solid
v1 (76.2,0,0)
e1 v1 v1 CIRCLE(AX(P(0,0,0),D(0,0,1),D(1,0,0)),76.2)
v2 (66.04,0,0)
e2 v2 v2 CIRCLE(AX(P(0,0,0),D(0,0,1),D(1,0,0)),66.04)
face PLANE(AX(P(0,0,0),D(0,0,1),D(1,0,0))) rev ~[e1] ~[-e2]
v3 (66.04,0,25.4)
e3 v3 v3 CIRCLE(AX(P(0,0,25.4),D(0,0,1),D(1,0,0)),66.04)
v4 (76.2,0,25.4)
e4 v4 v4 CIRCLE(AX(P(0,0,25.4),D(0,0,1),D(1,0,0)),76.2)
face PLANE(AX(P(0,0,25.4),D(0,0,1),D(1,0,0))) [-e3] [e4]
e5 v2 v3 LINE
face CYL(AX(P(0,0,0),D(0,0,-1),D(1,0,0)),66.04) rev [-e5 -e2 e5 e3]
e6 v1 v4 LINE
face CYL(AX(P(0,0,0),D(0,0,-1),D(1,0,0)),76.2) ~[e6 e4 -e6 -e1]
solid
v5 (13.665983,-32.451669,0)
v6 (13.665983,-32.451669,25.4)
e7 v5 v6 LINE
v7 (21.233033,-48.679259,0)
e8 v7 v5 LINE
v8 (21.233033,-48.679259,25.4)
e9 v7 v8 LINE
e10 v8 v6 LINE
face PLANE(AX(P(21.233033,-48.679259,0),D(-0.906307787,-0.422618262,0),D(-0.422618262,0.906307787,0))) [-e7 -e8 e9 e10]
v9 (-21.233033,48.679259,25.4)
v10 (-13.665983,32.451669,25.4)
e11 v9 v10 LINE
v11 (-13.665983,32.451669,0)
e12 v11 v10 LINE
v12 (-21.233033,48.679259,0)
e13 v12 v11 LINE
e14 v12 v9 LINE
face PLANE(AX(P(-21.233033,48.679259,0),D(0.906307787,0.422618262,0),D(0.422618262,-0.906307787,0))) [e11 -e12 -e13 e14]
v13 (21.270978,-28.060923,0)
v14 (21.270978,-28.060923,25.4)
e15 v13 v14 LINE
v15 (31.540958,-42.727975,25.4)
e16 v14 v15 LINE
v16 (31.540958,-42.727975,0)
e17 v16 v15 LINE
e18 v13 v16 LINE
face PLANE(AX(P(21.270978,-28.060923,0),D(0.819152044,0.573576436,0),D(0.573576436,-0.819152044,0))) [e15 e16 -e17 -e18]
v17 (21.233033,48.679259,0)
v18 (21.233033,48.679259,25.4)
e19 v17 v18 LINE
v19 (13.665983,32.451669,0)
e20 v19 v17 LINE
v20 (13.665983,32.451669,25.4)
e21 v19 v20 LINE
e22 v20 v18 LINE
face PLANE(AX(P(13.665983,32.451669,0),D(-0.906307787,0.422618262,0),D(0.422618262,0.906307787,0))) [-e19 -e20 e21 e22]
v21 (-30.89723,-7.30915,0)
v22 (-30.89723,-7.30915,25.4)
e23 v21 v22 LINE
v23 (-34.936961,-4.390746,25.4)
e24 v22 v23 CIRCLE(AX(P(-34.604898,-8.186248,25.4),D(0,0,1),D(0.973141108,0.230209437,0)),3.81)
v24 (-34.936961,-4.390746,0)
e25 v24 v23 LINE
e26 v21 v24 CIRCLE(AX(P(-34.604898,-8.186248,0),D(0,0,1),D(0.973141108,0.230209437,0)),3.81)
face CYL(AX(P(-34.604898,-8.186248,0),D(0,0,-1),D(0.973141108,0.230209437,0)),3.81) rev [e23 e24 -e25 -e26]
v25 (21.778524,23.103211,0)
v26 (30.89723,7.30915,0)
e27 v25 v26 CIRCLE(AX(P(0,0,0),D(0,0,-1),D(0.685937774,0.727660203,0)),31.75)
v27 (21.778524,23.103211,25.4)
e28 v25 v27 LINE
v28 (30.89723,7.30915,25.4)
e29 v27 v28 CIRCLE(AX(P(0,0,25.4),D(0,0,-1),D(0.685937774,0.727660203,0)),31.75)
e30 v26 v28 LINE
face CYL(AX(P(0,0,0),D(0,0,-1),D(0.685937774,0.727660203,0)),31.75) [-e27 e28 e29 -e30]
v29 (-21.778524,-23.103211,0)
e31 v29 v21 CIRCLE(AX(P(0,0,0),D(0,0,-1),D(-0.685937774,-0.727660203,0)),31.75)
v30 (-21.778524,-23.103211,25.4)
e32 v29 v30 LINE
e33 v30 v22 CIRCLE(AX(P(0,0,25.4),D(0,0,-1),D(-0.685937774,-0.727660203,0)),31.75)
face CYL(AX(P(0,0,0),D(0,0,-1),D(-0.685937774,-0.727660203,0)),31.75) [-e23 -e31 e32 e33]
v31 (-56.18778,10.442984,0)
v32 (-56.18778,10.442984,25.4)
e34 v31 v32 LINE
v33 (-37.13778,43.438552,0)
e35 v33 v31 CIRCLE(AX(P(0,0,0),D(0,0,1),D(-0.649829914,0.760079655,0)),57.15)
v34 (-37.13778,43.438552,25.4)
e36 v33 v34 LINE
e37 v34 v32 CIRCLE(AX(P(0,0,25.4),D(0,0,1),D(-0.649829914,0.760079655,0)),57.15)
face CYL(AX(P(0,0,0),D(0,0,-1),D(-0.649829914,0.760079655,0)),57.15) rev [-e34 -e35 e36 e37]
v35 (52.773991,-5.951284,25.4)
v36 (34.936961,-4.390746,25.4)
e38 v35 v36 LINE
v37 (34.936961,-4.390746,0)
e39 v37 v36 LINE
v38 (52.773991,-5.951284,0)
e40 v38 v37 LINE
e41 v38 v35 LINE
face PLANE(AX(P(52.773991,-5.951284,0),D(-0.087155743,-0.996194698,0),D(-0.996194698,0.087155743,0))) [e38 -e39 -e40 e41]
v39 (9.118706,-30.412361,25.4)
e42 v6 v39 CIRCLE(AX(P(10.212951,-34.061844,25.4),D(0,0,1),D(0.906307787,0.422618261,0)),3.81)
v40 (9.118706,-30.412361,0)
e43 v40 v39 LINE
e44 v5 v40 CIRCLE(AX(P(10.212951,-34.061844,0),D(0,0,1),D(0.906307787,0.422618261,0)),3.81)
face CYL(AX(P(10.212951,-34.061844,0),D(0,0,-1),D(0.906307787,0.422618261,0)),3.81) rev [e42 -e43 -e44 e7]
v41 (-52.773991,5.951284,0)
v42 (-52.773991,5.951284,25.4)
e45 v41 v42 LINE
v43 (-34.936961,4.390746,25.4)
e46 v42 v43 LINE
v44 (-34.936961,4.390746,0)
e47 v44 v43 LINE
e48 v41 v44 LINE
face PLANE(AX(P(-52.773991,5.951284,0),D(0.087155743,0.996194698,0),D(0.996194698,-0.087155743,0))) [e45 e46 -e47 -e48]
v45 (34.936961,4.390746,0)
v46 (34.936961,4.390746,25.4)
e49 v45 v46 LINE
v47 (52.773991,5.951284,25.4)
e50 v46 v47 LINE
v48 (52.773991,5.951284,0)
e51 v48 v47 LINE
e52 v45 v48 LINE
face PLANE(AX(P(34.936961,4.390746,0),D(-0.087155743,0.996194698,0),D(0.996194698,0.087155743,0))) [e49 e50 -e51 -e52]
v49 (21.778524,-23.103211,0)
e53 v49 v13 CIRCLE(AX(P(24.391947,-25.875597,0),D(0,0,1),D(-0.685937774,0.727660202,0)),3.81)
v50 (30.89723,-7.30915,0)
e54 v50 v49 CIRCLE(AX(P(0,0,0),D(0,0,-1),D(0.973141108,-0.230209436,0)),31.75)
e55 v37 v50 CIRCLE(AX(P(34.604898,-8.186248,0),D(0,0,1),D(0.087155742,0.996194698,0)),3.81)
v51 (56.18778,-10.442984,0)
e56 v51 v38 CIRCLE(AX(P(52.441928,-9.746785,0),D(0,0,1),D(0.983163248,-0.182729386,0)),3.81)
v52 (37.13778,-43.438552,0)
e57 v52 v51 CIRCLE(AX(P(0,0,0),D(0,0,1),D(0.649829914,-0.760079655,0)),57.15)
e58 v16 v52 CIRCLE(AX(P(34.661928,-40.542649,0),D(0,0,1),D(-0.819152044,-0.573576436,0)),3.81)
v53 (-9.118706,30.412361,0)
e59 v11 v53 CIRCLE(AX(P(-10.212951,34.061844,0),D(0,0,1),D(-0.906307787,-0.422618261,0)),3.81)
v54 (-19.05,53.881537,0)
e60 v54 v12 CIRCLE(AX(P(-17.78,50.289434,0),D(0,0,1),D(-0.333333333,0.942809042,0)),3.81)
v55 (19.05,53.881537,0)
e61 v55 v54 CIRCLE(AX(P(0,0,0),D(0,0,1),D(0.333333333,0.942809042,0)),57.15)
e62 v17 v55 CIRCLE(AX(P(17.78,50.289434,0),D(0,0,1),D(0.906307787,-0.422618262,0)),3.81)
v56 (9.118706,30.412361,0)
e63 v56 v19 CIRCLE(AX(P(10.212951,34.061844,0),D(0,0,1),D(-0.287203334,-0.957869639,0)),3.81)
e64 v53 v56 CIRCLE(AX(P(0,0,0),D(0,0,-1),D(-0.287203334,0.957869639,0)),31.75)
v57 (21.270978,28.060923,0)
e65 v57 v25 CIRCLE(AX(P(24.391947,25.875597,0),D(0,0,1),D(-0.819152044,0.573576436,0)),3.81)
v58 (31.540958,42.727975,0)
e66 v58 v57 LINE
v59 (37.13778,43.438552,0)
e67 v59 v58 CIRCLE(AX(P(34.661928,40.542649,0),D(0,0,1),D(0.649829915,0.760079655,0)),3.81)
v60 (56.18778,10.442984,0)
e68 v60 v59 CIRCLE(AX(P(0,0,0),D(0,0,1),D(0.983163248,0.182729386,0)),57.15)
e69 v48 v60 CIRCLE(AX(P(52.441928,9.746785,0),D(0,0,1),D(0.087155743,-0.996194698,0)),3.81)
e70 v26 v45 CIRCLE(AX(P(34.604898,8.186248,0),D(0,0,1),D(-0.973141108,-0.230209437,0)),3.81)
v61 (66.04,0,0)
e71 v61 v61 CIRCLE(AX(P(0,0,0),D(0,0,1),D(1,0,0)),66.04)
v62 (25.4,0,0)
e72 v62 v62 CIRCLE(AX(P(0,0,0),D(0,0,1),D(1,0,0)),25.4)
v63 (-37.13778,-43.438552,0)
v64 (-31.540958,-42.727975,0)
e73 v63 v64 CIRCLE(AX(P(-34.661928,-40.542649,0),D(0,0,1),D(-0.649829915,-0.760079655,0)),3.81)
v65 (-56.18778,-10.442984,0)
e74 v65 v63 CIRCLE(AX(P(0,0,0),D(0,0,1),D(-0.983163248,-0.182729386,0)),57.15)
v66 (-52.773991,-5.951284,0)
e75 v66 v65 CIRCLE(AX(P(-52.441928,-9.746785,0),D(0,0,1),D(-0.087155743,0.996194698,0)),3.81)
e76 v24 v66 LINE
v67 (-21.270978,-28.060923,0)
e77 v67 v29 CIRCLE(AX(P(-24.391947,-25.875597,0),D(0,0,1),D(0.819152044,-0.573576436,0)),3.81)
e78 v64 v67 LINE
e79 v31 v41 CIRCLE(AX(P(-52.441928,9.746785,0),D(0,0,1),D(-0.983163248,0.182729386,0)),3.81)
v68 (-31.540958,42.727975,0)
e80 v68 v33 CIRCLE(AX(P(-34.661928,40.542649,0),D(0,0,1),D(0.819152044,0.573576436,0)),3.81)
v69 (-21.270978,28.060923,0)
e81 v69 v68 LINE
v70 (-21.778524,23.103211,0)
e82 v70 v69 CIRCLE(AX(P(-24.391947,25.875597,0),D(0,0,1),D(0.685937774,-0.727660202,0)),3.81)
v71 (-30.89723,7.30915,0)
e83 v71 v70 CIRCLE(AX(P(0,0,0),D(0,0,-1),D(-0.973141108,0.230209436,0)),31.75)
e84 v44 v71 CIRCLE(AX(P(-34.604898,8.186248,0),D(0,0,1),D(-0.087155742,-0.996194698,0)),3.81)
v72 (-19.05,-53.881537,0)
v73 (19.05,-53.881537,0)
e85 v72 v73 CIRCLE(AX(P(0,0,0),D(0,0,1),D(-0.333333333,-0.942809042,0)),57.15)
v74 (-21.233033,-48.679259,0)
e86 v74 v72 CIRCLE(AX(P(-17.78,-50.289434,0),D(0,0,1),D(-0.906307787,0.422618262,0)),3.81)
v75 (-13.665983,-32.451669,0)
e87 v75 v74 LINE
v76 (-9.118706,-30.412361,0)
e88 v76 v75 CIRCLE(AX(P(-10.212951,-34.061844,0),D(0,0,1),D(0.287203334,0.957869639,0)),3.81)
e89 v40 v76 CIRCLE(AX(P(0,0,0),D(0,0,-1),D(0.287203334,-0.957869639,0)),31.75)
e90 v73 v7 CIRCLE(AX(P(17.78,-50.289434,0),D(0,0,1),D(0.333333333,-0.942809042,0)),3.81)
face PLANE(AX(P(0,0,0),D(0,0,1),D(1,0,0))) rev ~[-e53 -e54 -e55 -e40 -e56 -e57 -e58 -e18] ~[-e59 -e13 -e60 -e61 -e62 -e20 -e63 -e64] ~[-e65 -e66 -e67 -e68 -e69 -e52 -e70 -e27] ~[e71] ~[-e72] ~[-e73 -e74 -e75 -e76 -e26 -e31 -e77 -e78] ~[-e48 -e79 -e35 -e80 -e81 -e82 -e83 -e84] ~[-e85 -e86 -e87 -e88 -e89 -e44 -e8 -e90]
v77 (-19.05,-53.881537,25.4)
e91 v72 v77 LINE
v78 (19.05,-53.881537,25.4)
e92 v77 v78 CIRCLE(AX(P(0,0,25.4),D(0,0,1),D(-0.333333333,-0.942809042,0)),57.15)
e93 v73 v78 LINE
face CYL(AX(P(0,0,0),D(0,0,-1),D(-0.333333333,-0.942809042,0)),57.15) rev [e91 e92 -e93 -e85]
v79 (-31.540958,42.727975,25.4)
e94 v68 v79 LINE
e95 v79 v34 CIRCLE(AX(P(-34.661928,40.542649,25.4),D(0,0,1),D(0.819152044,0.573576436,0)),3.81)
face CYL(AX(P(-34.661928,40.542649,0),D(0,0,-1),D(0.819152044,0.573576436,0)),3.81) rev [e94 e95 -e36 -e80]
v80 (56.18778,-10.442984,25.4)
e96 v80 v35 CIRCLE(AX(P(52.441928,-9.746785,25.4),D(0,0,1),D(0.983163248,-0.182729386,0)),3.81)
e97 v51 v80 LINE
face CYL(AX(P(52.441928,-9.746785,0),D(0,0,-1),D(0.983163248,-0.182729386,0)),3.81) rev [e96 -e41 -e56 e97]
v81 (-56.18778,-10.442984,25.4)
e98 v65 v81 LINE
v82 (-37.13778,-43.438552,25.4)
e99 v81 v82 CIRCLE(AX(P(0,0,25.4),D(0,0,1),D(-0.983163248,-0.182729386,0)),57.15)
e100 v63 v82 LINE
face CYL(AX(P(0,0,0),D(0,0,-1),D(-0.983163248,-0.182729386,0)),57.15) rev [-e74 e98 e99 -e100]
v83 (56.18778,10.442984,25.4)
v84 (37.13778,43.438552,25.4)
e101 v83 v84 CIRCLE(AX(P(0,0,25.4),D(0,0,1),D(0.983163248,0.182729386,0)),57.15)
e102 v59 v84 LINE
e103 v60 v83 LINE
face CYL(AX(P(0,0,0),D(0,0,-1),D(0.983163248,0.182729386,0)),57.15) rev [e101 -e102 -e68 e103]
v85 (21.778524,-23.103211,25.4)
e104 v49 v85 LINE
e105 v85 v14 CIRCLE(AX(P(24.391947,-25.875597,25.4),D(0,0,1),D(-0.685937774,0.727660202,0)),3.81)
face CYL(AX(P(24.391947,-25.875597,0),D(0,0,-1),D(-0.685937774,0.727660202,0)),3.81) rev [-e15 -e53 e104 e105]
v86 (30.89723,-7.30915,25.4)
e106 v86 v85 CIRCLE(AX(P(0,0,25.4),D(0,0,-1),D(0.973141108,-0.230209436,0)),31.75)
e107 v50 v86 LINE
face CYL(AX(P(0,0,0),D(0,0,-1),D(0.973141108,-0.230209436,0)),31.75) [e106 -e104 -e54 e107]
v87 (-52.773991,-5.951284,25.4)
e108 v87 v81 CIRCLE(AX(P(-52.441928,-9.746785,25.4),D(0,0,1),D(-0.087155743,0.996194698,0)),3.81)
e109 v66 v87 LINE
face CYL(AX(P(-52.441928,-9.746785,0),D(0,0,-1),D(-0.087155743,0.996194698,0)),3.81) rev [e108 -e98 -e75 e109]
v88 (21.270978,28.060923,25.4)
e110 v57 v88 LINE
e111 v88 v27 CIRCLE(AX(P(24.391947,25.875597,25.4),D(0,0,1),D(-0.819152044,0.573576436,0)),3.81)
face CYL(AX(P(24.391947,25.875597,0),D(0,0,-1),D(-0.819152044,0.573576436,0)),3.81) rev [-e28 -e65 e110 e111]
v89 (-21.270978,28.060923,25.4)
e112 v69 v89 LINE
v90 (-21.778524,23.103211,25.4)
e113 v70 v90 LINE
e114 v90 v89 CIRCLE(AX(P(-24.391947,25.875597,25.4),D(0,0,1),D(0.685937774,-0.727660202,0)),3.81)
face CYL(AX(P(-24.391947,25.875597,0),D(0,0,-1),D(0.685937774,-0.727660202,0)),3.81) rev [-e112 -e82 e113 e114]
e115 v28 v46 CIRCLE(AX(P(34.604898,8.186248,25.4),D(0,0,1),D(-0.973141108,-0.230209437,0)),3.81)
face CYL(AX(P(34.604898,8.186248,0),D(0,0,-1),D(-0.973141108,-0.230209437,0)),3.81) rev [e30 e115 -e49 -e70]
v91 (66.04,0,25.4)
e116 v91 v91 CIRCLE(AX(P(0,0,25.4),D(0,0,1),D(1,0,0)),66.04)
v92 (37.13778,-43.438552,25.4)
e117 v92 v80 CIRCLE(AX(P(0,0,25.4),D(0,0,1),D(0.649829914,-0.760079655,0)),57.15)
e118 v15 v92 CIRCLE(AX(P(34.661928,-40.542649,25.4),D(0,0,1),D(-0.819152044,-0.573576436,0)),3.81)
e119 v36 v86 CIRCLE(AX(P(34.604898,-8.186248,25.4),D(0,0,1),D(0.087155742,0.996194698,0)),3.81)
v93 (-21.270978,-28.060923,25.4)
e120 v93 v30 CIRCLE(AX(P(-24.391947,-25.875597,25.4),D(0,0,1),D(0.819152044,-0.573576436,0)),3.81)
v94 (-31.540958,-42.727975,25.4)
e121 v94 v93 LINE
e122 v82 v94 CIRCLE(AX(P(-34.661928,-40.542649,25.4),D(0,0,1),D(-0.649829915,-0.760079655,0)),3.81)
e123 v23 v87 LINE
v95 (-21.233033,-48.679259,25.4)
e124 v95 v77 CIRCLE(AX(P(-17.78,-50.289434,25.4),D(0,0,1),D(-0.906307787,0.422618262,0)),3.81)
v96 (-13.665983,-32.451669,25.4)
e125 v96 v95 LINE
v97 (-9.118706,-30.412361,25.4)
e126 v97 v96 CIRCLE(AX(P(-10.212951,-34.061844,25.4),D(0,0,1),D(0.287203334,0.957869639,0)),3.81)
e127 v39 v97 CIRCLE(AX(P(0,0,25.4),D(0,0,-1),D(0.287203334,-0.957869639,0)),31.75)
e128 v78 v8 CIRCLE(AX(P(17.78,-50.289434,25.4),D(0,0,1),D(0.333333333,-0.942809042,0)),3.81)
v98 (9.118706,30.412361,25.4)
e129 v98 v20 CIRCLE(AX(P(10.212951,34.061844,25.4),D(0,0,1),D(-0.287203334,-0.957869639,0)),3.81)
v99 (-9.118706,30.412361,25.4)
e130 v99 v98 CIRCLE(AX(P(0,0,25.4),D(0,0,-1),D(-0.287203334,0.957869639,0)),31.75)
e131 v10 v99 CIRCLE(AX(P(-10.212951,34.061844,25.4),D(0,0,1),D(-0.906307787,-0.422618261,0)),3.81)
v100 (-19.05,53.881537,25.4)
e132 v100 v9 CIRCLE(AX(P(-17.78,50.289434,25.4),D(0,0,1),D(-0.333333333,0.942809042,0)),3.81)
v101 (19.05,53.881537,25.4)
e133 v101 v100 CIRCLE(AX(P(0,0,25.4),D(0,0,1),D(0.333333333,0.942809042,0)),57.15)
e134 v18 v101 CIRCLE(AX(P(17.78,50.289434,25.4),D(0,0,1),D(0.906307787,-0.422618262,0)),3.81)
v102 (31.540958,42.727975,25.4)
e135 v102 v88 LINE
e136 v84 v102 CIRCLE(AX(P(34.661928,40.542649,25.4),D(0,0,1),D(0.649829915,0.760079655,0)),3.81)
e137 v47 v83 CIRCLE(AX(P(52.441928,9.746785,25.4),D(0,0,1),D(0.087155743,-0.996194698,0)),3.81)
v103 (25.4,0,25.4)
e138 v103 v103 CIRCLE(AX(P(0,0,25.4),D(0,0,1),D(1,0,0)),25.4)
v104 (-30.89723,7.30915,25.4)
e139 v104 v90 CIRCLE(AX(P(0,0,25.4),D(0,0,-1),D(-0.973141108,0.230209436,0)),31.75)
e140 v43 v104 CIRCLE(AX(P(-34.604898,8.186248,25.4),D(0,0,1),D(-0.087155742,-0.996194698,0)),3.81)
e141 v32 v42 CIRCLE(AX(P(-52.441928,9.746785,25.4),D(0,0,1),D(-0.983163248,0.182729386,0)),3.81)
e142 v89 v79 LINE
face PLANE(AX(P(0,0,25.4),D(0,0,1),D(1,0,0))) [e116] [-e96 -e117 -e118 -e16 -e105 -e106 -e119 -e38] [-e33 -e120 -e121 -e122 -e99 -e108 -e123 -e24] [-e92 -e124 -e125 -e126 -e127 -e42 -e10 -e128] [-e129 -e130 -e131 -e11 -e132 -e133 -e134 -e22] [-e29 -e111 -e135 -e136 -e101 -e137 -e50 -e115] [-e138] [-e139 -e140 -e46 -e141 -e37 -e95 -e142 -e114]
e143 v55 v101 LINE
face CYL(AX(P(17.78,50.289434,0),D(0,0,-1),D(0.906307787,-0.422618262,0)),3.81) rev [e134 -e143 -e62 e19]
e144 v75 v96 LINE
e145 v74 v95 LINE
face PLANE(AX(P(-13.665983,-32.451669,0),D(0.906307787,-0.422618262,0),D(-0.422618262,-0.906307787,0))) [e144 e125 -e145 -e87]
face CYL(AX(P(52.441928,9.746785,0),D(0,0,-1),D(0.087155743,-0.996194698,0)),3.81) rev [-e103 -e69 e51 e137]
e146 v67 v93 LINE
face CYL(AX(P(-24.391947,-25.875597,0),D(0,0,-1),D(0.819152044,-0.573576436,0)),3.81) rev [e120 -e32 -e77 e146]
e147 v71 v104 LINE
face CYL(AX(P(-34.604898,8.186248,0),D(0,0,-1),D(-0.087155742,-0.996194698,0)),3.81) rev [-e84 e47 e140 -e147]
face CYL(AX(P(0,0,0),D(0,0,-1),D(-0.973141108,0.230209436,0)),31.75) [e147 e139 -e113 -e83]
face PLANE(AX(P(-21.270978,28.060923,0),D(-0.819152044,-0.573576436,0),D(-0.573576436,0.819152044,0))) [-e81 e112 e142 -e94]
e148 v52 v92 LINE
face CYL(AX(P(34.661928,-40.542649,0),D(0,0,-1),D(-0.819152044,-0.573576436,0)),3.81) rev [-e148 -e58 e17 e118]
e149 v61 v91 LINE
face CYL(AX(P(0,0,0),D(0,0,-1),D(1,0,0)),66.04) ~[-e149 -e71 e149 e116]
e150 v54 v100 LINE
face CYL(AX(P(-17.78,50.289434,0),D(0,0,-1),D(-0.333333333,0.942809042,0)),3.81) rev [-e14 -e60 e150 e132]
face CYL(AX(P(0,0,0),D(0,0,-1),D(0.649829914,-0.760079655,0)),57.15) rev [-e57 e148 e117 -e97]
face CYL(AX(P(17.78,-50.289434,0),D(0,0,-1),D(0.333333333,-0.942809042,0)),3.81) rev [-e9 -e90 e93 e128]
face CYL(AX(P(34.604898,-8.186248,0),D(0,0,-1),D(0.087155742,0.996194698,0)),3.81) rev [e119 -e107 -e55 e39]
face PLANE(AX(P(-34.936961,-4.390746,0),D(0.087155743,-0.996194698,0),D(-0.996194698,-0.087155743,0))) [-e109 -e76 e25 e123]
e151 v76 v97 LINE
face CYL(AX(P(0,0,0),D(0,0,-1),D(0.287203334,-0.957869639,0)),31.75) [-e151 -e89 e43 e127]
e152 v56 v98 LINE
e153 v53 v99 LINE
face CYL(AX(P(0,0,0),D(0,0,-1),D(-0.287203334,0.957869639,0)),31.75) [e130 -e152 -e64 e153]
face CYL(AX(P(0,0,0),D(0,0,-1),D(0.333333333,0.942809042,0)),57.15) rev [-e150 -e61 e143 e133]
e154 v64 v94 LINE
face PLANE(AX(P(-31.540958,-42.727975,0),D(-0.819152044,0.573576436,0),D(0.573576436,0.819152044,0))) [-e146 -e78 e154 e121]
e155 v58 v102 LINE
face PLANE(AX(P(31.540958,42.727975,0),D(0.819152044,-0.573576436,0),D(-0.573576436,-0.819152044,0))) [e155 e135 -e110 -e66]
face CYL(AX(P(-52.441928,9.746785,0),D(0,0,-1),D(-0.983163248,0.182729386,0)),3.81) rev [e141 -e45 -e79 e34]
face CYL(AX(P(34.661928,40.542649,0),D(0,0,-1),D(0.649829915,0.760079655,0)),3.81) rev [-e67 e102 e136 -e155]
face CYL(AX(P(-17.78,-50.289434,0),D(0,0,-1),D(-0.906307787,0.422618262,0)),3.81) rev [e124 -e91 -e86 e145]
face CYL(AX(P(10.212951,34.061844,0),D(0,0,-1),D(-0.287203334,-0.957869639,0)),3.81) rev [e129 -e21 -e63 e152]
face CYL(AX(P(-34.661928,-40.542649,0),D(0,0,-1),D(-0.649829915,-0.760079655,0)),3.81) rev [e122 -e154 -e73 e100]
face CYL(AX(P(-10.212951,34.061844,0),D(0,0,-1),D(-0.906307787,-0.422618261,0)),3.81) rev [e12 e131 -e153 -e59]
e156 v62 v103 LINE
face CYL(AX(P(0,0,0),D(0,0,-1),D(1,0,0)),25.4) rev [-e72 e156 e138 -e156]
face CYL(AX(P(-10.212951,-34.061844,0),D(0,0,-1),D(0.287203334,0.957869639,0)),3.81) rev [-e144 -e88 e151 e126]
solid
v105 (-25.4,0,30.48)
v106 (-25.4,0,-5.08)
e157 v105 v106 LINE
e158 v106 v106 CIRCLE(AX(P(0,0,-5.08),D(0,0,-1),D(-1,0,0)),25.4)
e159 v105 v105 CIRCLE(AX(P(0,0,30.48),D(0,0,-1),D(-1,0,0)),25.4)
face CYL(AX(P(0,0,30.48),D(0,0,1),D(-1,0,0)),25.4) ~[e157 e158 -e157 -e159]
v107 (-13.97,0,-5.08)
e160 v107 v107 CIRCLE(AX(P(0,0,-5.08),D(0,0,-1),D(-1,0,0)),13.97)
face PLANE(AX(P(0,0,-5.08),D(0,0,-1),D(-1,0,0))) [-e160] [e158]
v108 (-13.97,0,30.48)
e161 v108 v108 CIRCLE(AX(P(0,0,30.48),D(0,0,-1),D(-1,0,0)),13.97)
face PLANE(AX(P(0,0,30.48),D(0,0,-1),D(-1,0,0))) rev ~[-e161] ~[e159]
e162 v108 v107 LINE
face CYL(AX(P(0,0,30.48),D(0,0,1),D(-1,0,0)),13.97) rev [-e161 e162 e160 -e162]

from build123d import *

# Parameters (mm, degrees)
SKETCH1_R                = 76.2
SKETCH1_R_2              = 66.04
BOSS_EXTRUDE1_DEPTH      = 25.4
SKETCH2_R                = 66.04
SKETCH2_R_2              = 25.4
BOSS_EXTRUDE2_DEPTH      = 25.4
BOSS_EXTRUDE3_DEPTH      = 17.78
BOSS_EXTRUDE3_DEPTH_BACK = 17.78
SKETCH3_R                = 25.4
SKETCH3_R_2              = 13.97


with BuildPart() as part:
    # Sketch1 → Boss-Extrude1 (new body)
    with BuildSketch(Plane.XY):
        Circle(SKETCH1_R)
        Circle(SKETCH1_R_2, mode=Mode.SUBTRACT)
    extrude(amount=BOSS_EXTRUDE1_DEPTH)


with BuildPart() as body_2:
    # Sketch2 → Boss-Extrude2 (new body)
    with BuildSketch(Plane.XY):
        Circle(SKETCH2_R)
        Circle(SKETCH2_R_2, mode=Mode.SUBTRACT)
        with BuildLine():
            Line((13.665983216, 32.451668782), (21.233032669, 48.679258701))
            ThreePointArc((21.233032669, 48.679258701), (21.293215559, 51.763685423), (19.05, 53.881536726))
            ThreePointArc((19.05, 53.881536726), (0, 57.15), (-19.05, 53.881536726))
            ThreePointArc((-19.05, 53.881536726), (-21.293215559, 51.763685423), (-21.233032669, 48.679258701))
            Line((-21.233032669, 48.679258701), (-13.665983216, 32.451668782))
            ThreePointArc((-13.665983216, 32.451668782), (-11.772009299, 30.585433018), (-9.118705846, 30.412361035))
            ThreePointArc((-9.118705846, 30.412361035), (0, 31.75), (9.118705846, 30.412361035))
            ThreePointArc((9.118705846, 30.412361035), (11.772009299, 30.585433018), (13.665983216, 32.451668782))
        make_face(mode=Mode.SUBTRACT)
        with BuildLine():
            Line((34.936961168, 4.390745758), (52.773991007, 5.95128366))
            ThreePointArc((52.773991007, 5.95128366), (55.475274349, 7.44137711), (56.1877796, 10.442984421))
            ThreePointArc((56.1877796, 10.442984421), (49.493351826, 28.575), (37.1377796, 43.438552305))
            ThreePointArc((37.1377796, 43.438552305), (34.182058791, 44.322308314), (31.540958338, 42.727975041))
            Line((31.540958338, 42.727975041), (21.270977952, 28.060923023))
            ThreePointArc((21.270977952, 28.060923023), (20.60175733, 25.487575615), (21.778524322, 23.103211429))
            ThreePointArc((21.778524322, 23.103211429), (27.49630657, 15.875), (30.897230168, 7.309149605))
            ThreePointArc((30.897230168, 7.309149605), (32.373766629, 5.097857403), (34.936961168, 4.390745758))
        make_face(mode=Mode.SUBTRACT)
        with BuildLine():
            Line((21.270977952, -28.060923023), (31.540958338, -42.727975041))
            ThreePointArc((31.540958338, -42.727975041), (34.182058791, -44.322308314), (37.1377796, -43.438552305))
            ThreePointArc((37.1377796, -43.438552305), (49.493351826, -28.575), (56.1877796, -10.442984421))
            ThreePointArc((56.1877796, -10.442984421), (55.475274349, -7.44137711), (52.773991007, -5.95128366))
            Line((52.773991007, -5.95128366), (34.936961168, -4.390745758))
            ThreePointArc((34.936961168, -4.390745758), (32.373766629, -5.097857403), (30.897230168, -7.309149605))
            ThreePointArc((30.897230168, -7.309149605), (27.49630657, -15.875), (21.778524322, -23.103211429))
            ThreePointArc((21.778524322, -23.103211429), (20.60175733, -25.487575615), (21.270977952, -28.060923023))
        make_face(mode=Mode.SUBTRACT)
        with BuildLine():
            Line((-13.665983216, -32.451668782), (-21.233032669, -48.679258701))
            ThreePointArc((-21.233032669, -48.679258701), (-21.293215559, -51.763685423), (-19.05, -53.881536726))
            ThreePointArc((-19.05, -53.881536726), (0, -57.15), (19.05, -53.881536726))
            ThreePointArc((19.05, -53.881536726), (21.293215559, -51.763685423), (21.233032669, -48.679258701))
            Line((21.233032669, -48.679258701), (13.665983216, -32.451668782))
            ThreePointArc((13.665983216, -32.451668782), (11.772009299, -30.585433018), (9.118705846, -30.412361035))
            ThreePointArc((9.118705846, -30.412361035), (0, -31.75), (-9.118705846, -30.412361035))
            ThreePointArc((-9.118705846, -30.412361035), (-11.772009299, -30.585433018), (-13.665983216, -32.451668782))
        make_face(mode=Mode.SUBTRACT)
        with BuildLine():
            Line((-34.936961168, -4.390745758), (-52.773991007, -5.95128366))
            ThreePointArc((-52.773991007, -5.95128366), (-55.475274349, -7.44137711), (-56.1877796, -10.442984421))
            ThreePointArc((-56.1877796, -10.442984421), (-49.493351826, -28.575), (-37.1377796, -43.438552305))
            ThreePointArc((-37.1377796, -43.438552305), (-34.182058791, -44.322308314), (-31.540958338, -42.727975041))
            Line((-31.540958338, -42.727975041), (-21.270977952, -28.060923023))
            ThreePointArc((-21.270977952, -28.060923023), (-20.60175733, -25.487575615), (-21.778524322, -23.103211429))
            ThreePointArc((-21.778524322, -23.103211429), (-27.49630657, -15.875), (-30.897230168, -7.309149605))
            ThreePointArc((-30.897230168, -7.309149605), (-32.373766629, -5.097857403), (-34.936961168, -4.390745758))
        make_face(mode=Mode.SUBTRACT)
        with BuildLine():
            Line((-21.270977952, 28.060923023), (-31.540958338, 42.727975041))
            ThreePointArc((-31.540958338, 42.727975041), (-34.182058791, 44.322308314), (-37.1377796, 43.438552305))
            ThreePointArc((-37.1377796, 43.438552305), (-49.493351826, 28.575), (-56.1877796, 10.442984421))
            ThreePointArc((-56.1877796, 10.442984421), (-55.475274349, 7.44137711), (-52.773991007, 5.95128366))
            Line((-52.773991007, 5.95128366), (-34.936961168, 4.390745758))
            ThreePointArc((-34.936961168, 4.390745758), (-32.373766629, 5.097857403), (-30.897230168, 7.309149605))
            ThreePointArc((-30.897230168, 7.309149605), (-27.49630657, 15.875), (-21.778524322, 23.103211429))
            ThreePointArc((-21.778524322, 23.103211429), (-20.60175733, 25.487575615), (-21.270977952, 28.060923023))
        make_face(mode=Mode.SUBTRACT)
    extrude(amount=BOSS_EXTRUDE2_DEPTH)


with BuildPart() as body_3:
    # Sketch3 → Boss-Extrude3 (new, two sides: drawn at the far end of the back side and taken through both)
    with BuildSketch(Plane(origin=(0, 0, 12.7), x_dir=(-1, 0, 0), z_dir=(0, 0, -1)).offset(-BOSS_EXTRUDE3_DEPTH_BACK)):
        Circle(SKETCH3_R)
        Circle(SKETCH3_R_2, mode=Mode.SUBTRACT)
    extrude(amount=BOSS_EXTRUDE3_DEPTH + BOSS_EXTRUDE3_DEPTH_BACK)


solid = Compound([part.part, body_2.part, body_3.part])
